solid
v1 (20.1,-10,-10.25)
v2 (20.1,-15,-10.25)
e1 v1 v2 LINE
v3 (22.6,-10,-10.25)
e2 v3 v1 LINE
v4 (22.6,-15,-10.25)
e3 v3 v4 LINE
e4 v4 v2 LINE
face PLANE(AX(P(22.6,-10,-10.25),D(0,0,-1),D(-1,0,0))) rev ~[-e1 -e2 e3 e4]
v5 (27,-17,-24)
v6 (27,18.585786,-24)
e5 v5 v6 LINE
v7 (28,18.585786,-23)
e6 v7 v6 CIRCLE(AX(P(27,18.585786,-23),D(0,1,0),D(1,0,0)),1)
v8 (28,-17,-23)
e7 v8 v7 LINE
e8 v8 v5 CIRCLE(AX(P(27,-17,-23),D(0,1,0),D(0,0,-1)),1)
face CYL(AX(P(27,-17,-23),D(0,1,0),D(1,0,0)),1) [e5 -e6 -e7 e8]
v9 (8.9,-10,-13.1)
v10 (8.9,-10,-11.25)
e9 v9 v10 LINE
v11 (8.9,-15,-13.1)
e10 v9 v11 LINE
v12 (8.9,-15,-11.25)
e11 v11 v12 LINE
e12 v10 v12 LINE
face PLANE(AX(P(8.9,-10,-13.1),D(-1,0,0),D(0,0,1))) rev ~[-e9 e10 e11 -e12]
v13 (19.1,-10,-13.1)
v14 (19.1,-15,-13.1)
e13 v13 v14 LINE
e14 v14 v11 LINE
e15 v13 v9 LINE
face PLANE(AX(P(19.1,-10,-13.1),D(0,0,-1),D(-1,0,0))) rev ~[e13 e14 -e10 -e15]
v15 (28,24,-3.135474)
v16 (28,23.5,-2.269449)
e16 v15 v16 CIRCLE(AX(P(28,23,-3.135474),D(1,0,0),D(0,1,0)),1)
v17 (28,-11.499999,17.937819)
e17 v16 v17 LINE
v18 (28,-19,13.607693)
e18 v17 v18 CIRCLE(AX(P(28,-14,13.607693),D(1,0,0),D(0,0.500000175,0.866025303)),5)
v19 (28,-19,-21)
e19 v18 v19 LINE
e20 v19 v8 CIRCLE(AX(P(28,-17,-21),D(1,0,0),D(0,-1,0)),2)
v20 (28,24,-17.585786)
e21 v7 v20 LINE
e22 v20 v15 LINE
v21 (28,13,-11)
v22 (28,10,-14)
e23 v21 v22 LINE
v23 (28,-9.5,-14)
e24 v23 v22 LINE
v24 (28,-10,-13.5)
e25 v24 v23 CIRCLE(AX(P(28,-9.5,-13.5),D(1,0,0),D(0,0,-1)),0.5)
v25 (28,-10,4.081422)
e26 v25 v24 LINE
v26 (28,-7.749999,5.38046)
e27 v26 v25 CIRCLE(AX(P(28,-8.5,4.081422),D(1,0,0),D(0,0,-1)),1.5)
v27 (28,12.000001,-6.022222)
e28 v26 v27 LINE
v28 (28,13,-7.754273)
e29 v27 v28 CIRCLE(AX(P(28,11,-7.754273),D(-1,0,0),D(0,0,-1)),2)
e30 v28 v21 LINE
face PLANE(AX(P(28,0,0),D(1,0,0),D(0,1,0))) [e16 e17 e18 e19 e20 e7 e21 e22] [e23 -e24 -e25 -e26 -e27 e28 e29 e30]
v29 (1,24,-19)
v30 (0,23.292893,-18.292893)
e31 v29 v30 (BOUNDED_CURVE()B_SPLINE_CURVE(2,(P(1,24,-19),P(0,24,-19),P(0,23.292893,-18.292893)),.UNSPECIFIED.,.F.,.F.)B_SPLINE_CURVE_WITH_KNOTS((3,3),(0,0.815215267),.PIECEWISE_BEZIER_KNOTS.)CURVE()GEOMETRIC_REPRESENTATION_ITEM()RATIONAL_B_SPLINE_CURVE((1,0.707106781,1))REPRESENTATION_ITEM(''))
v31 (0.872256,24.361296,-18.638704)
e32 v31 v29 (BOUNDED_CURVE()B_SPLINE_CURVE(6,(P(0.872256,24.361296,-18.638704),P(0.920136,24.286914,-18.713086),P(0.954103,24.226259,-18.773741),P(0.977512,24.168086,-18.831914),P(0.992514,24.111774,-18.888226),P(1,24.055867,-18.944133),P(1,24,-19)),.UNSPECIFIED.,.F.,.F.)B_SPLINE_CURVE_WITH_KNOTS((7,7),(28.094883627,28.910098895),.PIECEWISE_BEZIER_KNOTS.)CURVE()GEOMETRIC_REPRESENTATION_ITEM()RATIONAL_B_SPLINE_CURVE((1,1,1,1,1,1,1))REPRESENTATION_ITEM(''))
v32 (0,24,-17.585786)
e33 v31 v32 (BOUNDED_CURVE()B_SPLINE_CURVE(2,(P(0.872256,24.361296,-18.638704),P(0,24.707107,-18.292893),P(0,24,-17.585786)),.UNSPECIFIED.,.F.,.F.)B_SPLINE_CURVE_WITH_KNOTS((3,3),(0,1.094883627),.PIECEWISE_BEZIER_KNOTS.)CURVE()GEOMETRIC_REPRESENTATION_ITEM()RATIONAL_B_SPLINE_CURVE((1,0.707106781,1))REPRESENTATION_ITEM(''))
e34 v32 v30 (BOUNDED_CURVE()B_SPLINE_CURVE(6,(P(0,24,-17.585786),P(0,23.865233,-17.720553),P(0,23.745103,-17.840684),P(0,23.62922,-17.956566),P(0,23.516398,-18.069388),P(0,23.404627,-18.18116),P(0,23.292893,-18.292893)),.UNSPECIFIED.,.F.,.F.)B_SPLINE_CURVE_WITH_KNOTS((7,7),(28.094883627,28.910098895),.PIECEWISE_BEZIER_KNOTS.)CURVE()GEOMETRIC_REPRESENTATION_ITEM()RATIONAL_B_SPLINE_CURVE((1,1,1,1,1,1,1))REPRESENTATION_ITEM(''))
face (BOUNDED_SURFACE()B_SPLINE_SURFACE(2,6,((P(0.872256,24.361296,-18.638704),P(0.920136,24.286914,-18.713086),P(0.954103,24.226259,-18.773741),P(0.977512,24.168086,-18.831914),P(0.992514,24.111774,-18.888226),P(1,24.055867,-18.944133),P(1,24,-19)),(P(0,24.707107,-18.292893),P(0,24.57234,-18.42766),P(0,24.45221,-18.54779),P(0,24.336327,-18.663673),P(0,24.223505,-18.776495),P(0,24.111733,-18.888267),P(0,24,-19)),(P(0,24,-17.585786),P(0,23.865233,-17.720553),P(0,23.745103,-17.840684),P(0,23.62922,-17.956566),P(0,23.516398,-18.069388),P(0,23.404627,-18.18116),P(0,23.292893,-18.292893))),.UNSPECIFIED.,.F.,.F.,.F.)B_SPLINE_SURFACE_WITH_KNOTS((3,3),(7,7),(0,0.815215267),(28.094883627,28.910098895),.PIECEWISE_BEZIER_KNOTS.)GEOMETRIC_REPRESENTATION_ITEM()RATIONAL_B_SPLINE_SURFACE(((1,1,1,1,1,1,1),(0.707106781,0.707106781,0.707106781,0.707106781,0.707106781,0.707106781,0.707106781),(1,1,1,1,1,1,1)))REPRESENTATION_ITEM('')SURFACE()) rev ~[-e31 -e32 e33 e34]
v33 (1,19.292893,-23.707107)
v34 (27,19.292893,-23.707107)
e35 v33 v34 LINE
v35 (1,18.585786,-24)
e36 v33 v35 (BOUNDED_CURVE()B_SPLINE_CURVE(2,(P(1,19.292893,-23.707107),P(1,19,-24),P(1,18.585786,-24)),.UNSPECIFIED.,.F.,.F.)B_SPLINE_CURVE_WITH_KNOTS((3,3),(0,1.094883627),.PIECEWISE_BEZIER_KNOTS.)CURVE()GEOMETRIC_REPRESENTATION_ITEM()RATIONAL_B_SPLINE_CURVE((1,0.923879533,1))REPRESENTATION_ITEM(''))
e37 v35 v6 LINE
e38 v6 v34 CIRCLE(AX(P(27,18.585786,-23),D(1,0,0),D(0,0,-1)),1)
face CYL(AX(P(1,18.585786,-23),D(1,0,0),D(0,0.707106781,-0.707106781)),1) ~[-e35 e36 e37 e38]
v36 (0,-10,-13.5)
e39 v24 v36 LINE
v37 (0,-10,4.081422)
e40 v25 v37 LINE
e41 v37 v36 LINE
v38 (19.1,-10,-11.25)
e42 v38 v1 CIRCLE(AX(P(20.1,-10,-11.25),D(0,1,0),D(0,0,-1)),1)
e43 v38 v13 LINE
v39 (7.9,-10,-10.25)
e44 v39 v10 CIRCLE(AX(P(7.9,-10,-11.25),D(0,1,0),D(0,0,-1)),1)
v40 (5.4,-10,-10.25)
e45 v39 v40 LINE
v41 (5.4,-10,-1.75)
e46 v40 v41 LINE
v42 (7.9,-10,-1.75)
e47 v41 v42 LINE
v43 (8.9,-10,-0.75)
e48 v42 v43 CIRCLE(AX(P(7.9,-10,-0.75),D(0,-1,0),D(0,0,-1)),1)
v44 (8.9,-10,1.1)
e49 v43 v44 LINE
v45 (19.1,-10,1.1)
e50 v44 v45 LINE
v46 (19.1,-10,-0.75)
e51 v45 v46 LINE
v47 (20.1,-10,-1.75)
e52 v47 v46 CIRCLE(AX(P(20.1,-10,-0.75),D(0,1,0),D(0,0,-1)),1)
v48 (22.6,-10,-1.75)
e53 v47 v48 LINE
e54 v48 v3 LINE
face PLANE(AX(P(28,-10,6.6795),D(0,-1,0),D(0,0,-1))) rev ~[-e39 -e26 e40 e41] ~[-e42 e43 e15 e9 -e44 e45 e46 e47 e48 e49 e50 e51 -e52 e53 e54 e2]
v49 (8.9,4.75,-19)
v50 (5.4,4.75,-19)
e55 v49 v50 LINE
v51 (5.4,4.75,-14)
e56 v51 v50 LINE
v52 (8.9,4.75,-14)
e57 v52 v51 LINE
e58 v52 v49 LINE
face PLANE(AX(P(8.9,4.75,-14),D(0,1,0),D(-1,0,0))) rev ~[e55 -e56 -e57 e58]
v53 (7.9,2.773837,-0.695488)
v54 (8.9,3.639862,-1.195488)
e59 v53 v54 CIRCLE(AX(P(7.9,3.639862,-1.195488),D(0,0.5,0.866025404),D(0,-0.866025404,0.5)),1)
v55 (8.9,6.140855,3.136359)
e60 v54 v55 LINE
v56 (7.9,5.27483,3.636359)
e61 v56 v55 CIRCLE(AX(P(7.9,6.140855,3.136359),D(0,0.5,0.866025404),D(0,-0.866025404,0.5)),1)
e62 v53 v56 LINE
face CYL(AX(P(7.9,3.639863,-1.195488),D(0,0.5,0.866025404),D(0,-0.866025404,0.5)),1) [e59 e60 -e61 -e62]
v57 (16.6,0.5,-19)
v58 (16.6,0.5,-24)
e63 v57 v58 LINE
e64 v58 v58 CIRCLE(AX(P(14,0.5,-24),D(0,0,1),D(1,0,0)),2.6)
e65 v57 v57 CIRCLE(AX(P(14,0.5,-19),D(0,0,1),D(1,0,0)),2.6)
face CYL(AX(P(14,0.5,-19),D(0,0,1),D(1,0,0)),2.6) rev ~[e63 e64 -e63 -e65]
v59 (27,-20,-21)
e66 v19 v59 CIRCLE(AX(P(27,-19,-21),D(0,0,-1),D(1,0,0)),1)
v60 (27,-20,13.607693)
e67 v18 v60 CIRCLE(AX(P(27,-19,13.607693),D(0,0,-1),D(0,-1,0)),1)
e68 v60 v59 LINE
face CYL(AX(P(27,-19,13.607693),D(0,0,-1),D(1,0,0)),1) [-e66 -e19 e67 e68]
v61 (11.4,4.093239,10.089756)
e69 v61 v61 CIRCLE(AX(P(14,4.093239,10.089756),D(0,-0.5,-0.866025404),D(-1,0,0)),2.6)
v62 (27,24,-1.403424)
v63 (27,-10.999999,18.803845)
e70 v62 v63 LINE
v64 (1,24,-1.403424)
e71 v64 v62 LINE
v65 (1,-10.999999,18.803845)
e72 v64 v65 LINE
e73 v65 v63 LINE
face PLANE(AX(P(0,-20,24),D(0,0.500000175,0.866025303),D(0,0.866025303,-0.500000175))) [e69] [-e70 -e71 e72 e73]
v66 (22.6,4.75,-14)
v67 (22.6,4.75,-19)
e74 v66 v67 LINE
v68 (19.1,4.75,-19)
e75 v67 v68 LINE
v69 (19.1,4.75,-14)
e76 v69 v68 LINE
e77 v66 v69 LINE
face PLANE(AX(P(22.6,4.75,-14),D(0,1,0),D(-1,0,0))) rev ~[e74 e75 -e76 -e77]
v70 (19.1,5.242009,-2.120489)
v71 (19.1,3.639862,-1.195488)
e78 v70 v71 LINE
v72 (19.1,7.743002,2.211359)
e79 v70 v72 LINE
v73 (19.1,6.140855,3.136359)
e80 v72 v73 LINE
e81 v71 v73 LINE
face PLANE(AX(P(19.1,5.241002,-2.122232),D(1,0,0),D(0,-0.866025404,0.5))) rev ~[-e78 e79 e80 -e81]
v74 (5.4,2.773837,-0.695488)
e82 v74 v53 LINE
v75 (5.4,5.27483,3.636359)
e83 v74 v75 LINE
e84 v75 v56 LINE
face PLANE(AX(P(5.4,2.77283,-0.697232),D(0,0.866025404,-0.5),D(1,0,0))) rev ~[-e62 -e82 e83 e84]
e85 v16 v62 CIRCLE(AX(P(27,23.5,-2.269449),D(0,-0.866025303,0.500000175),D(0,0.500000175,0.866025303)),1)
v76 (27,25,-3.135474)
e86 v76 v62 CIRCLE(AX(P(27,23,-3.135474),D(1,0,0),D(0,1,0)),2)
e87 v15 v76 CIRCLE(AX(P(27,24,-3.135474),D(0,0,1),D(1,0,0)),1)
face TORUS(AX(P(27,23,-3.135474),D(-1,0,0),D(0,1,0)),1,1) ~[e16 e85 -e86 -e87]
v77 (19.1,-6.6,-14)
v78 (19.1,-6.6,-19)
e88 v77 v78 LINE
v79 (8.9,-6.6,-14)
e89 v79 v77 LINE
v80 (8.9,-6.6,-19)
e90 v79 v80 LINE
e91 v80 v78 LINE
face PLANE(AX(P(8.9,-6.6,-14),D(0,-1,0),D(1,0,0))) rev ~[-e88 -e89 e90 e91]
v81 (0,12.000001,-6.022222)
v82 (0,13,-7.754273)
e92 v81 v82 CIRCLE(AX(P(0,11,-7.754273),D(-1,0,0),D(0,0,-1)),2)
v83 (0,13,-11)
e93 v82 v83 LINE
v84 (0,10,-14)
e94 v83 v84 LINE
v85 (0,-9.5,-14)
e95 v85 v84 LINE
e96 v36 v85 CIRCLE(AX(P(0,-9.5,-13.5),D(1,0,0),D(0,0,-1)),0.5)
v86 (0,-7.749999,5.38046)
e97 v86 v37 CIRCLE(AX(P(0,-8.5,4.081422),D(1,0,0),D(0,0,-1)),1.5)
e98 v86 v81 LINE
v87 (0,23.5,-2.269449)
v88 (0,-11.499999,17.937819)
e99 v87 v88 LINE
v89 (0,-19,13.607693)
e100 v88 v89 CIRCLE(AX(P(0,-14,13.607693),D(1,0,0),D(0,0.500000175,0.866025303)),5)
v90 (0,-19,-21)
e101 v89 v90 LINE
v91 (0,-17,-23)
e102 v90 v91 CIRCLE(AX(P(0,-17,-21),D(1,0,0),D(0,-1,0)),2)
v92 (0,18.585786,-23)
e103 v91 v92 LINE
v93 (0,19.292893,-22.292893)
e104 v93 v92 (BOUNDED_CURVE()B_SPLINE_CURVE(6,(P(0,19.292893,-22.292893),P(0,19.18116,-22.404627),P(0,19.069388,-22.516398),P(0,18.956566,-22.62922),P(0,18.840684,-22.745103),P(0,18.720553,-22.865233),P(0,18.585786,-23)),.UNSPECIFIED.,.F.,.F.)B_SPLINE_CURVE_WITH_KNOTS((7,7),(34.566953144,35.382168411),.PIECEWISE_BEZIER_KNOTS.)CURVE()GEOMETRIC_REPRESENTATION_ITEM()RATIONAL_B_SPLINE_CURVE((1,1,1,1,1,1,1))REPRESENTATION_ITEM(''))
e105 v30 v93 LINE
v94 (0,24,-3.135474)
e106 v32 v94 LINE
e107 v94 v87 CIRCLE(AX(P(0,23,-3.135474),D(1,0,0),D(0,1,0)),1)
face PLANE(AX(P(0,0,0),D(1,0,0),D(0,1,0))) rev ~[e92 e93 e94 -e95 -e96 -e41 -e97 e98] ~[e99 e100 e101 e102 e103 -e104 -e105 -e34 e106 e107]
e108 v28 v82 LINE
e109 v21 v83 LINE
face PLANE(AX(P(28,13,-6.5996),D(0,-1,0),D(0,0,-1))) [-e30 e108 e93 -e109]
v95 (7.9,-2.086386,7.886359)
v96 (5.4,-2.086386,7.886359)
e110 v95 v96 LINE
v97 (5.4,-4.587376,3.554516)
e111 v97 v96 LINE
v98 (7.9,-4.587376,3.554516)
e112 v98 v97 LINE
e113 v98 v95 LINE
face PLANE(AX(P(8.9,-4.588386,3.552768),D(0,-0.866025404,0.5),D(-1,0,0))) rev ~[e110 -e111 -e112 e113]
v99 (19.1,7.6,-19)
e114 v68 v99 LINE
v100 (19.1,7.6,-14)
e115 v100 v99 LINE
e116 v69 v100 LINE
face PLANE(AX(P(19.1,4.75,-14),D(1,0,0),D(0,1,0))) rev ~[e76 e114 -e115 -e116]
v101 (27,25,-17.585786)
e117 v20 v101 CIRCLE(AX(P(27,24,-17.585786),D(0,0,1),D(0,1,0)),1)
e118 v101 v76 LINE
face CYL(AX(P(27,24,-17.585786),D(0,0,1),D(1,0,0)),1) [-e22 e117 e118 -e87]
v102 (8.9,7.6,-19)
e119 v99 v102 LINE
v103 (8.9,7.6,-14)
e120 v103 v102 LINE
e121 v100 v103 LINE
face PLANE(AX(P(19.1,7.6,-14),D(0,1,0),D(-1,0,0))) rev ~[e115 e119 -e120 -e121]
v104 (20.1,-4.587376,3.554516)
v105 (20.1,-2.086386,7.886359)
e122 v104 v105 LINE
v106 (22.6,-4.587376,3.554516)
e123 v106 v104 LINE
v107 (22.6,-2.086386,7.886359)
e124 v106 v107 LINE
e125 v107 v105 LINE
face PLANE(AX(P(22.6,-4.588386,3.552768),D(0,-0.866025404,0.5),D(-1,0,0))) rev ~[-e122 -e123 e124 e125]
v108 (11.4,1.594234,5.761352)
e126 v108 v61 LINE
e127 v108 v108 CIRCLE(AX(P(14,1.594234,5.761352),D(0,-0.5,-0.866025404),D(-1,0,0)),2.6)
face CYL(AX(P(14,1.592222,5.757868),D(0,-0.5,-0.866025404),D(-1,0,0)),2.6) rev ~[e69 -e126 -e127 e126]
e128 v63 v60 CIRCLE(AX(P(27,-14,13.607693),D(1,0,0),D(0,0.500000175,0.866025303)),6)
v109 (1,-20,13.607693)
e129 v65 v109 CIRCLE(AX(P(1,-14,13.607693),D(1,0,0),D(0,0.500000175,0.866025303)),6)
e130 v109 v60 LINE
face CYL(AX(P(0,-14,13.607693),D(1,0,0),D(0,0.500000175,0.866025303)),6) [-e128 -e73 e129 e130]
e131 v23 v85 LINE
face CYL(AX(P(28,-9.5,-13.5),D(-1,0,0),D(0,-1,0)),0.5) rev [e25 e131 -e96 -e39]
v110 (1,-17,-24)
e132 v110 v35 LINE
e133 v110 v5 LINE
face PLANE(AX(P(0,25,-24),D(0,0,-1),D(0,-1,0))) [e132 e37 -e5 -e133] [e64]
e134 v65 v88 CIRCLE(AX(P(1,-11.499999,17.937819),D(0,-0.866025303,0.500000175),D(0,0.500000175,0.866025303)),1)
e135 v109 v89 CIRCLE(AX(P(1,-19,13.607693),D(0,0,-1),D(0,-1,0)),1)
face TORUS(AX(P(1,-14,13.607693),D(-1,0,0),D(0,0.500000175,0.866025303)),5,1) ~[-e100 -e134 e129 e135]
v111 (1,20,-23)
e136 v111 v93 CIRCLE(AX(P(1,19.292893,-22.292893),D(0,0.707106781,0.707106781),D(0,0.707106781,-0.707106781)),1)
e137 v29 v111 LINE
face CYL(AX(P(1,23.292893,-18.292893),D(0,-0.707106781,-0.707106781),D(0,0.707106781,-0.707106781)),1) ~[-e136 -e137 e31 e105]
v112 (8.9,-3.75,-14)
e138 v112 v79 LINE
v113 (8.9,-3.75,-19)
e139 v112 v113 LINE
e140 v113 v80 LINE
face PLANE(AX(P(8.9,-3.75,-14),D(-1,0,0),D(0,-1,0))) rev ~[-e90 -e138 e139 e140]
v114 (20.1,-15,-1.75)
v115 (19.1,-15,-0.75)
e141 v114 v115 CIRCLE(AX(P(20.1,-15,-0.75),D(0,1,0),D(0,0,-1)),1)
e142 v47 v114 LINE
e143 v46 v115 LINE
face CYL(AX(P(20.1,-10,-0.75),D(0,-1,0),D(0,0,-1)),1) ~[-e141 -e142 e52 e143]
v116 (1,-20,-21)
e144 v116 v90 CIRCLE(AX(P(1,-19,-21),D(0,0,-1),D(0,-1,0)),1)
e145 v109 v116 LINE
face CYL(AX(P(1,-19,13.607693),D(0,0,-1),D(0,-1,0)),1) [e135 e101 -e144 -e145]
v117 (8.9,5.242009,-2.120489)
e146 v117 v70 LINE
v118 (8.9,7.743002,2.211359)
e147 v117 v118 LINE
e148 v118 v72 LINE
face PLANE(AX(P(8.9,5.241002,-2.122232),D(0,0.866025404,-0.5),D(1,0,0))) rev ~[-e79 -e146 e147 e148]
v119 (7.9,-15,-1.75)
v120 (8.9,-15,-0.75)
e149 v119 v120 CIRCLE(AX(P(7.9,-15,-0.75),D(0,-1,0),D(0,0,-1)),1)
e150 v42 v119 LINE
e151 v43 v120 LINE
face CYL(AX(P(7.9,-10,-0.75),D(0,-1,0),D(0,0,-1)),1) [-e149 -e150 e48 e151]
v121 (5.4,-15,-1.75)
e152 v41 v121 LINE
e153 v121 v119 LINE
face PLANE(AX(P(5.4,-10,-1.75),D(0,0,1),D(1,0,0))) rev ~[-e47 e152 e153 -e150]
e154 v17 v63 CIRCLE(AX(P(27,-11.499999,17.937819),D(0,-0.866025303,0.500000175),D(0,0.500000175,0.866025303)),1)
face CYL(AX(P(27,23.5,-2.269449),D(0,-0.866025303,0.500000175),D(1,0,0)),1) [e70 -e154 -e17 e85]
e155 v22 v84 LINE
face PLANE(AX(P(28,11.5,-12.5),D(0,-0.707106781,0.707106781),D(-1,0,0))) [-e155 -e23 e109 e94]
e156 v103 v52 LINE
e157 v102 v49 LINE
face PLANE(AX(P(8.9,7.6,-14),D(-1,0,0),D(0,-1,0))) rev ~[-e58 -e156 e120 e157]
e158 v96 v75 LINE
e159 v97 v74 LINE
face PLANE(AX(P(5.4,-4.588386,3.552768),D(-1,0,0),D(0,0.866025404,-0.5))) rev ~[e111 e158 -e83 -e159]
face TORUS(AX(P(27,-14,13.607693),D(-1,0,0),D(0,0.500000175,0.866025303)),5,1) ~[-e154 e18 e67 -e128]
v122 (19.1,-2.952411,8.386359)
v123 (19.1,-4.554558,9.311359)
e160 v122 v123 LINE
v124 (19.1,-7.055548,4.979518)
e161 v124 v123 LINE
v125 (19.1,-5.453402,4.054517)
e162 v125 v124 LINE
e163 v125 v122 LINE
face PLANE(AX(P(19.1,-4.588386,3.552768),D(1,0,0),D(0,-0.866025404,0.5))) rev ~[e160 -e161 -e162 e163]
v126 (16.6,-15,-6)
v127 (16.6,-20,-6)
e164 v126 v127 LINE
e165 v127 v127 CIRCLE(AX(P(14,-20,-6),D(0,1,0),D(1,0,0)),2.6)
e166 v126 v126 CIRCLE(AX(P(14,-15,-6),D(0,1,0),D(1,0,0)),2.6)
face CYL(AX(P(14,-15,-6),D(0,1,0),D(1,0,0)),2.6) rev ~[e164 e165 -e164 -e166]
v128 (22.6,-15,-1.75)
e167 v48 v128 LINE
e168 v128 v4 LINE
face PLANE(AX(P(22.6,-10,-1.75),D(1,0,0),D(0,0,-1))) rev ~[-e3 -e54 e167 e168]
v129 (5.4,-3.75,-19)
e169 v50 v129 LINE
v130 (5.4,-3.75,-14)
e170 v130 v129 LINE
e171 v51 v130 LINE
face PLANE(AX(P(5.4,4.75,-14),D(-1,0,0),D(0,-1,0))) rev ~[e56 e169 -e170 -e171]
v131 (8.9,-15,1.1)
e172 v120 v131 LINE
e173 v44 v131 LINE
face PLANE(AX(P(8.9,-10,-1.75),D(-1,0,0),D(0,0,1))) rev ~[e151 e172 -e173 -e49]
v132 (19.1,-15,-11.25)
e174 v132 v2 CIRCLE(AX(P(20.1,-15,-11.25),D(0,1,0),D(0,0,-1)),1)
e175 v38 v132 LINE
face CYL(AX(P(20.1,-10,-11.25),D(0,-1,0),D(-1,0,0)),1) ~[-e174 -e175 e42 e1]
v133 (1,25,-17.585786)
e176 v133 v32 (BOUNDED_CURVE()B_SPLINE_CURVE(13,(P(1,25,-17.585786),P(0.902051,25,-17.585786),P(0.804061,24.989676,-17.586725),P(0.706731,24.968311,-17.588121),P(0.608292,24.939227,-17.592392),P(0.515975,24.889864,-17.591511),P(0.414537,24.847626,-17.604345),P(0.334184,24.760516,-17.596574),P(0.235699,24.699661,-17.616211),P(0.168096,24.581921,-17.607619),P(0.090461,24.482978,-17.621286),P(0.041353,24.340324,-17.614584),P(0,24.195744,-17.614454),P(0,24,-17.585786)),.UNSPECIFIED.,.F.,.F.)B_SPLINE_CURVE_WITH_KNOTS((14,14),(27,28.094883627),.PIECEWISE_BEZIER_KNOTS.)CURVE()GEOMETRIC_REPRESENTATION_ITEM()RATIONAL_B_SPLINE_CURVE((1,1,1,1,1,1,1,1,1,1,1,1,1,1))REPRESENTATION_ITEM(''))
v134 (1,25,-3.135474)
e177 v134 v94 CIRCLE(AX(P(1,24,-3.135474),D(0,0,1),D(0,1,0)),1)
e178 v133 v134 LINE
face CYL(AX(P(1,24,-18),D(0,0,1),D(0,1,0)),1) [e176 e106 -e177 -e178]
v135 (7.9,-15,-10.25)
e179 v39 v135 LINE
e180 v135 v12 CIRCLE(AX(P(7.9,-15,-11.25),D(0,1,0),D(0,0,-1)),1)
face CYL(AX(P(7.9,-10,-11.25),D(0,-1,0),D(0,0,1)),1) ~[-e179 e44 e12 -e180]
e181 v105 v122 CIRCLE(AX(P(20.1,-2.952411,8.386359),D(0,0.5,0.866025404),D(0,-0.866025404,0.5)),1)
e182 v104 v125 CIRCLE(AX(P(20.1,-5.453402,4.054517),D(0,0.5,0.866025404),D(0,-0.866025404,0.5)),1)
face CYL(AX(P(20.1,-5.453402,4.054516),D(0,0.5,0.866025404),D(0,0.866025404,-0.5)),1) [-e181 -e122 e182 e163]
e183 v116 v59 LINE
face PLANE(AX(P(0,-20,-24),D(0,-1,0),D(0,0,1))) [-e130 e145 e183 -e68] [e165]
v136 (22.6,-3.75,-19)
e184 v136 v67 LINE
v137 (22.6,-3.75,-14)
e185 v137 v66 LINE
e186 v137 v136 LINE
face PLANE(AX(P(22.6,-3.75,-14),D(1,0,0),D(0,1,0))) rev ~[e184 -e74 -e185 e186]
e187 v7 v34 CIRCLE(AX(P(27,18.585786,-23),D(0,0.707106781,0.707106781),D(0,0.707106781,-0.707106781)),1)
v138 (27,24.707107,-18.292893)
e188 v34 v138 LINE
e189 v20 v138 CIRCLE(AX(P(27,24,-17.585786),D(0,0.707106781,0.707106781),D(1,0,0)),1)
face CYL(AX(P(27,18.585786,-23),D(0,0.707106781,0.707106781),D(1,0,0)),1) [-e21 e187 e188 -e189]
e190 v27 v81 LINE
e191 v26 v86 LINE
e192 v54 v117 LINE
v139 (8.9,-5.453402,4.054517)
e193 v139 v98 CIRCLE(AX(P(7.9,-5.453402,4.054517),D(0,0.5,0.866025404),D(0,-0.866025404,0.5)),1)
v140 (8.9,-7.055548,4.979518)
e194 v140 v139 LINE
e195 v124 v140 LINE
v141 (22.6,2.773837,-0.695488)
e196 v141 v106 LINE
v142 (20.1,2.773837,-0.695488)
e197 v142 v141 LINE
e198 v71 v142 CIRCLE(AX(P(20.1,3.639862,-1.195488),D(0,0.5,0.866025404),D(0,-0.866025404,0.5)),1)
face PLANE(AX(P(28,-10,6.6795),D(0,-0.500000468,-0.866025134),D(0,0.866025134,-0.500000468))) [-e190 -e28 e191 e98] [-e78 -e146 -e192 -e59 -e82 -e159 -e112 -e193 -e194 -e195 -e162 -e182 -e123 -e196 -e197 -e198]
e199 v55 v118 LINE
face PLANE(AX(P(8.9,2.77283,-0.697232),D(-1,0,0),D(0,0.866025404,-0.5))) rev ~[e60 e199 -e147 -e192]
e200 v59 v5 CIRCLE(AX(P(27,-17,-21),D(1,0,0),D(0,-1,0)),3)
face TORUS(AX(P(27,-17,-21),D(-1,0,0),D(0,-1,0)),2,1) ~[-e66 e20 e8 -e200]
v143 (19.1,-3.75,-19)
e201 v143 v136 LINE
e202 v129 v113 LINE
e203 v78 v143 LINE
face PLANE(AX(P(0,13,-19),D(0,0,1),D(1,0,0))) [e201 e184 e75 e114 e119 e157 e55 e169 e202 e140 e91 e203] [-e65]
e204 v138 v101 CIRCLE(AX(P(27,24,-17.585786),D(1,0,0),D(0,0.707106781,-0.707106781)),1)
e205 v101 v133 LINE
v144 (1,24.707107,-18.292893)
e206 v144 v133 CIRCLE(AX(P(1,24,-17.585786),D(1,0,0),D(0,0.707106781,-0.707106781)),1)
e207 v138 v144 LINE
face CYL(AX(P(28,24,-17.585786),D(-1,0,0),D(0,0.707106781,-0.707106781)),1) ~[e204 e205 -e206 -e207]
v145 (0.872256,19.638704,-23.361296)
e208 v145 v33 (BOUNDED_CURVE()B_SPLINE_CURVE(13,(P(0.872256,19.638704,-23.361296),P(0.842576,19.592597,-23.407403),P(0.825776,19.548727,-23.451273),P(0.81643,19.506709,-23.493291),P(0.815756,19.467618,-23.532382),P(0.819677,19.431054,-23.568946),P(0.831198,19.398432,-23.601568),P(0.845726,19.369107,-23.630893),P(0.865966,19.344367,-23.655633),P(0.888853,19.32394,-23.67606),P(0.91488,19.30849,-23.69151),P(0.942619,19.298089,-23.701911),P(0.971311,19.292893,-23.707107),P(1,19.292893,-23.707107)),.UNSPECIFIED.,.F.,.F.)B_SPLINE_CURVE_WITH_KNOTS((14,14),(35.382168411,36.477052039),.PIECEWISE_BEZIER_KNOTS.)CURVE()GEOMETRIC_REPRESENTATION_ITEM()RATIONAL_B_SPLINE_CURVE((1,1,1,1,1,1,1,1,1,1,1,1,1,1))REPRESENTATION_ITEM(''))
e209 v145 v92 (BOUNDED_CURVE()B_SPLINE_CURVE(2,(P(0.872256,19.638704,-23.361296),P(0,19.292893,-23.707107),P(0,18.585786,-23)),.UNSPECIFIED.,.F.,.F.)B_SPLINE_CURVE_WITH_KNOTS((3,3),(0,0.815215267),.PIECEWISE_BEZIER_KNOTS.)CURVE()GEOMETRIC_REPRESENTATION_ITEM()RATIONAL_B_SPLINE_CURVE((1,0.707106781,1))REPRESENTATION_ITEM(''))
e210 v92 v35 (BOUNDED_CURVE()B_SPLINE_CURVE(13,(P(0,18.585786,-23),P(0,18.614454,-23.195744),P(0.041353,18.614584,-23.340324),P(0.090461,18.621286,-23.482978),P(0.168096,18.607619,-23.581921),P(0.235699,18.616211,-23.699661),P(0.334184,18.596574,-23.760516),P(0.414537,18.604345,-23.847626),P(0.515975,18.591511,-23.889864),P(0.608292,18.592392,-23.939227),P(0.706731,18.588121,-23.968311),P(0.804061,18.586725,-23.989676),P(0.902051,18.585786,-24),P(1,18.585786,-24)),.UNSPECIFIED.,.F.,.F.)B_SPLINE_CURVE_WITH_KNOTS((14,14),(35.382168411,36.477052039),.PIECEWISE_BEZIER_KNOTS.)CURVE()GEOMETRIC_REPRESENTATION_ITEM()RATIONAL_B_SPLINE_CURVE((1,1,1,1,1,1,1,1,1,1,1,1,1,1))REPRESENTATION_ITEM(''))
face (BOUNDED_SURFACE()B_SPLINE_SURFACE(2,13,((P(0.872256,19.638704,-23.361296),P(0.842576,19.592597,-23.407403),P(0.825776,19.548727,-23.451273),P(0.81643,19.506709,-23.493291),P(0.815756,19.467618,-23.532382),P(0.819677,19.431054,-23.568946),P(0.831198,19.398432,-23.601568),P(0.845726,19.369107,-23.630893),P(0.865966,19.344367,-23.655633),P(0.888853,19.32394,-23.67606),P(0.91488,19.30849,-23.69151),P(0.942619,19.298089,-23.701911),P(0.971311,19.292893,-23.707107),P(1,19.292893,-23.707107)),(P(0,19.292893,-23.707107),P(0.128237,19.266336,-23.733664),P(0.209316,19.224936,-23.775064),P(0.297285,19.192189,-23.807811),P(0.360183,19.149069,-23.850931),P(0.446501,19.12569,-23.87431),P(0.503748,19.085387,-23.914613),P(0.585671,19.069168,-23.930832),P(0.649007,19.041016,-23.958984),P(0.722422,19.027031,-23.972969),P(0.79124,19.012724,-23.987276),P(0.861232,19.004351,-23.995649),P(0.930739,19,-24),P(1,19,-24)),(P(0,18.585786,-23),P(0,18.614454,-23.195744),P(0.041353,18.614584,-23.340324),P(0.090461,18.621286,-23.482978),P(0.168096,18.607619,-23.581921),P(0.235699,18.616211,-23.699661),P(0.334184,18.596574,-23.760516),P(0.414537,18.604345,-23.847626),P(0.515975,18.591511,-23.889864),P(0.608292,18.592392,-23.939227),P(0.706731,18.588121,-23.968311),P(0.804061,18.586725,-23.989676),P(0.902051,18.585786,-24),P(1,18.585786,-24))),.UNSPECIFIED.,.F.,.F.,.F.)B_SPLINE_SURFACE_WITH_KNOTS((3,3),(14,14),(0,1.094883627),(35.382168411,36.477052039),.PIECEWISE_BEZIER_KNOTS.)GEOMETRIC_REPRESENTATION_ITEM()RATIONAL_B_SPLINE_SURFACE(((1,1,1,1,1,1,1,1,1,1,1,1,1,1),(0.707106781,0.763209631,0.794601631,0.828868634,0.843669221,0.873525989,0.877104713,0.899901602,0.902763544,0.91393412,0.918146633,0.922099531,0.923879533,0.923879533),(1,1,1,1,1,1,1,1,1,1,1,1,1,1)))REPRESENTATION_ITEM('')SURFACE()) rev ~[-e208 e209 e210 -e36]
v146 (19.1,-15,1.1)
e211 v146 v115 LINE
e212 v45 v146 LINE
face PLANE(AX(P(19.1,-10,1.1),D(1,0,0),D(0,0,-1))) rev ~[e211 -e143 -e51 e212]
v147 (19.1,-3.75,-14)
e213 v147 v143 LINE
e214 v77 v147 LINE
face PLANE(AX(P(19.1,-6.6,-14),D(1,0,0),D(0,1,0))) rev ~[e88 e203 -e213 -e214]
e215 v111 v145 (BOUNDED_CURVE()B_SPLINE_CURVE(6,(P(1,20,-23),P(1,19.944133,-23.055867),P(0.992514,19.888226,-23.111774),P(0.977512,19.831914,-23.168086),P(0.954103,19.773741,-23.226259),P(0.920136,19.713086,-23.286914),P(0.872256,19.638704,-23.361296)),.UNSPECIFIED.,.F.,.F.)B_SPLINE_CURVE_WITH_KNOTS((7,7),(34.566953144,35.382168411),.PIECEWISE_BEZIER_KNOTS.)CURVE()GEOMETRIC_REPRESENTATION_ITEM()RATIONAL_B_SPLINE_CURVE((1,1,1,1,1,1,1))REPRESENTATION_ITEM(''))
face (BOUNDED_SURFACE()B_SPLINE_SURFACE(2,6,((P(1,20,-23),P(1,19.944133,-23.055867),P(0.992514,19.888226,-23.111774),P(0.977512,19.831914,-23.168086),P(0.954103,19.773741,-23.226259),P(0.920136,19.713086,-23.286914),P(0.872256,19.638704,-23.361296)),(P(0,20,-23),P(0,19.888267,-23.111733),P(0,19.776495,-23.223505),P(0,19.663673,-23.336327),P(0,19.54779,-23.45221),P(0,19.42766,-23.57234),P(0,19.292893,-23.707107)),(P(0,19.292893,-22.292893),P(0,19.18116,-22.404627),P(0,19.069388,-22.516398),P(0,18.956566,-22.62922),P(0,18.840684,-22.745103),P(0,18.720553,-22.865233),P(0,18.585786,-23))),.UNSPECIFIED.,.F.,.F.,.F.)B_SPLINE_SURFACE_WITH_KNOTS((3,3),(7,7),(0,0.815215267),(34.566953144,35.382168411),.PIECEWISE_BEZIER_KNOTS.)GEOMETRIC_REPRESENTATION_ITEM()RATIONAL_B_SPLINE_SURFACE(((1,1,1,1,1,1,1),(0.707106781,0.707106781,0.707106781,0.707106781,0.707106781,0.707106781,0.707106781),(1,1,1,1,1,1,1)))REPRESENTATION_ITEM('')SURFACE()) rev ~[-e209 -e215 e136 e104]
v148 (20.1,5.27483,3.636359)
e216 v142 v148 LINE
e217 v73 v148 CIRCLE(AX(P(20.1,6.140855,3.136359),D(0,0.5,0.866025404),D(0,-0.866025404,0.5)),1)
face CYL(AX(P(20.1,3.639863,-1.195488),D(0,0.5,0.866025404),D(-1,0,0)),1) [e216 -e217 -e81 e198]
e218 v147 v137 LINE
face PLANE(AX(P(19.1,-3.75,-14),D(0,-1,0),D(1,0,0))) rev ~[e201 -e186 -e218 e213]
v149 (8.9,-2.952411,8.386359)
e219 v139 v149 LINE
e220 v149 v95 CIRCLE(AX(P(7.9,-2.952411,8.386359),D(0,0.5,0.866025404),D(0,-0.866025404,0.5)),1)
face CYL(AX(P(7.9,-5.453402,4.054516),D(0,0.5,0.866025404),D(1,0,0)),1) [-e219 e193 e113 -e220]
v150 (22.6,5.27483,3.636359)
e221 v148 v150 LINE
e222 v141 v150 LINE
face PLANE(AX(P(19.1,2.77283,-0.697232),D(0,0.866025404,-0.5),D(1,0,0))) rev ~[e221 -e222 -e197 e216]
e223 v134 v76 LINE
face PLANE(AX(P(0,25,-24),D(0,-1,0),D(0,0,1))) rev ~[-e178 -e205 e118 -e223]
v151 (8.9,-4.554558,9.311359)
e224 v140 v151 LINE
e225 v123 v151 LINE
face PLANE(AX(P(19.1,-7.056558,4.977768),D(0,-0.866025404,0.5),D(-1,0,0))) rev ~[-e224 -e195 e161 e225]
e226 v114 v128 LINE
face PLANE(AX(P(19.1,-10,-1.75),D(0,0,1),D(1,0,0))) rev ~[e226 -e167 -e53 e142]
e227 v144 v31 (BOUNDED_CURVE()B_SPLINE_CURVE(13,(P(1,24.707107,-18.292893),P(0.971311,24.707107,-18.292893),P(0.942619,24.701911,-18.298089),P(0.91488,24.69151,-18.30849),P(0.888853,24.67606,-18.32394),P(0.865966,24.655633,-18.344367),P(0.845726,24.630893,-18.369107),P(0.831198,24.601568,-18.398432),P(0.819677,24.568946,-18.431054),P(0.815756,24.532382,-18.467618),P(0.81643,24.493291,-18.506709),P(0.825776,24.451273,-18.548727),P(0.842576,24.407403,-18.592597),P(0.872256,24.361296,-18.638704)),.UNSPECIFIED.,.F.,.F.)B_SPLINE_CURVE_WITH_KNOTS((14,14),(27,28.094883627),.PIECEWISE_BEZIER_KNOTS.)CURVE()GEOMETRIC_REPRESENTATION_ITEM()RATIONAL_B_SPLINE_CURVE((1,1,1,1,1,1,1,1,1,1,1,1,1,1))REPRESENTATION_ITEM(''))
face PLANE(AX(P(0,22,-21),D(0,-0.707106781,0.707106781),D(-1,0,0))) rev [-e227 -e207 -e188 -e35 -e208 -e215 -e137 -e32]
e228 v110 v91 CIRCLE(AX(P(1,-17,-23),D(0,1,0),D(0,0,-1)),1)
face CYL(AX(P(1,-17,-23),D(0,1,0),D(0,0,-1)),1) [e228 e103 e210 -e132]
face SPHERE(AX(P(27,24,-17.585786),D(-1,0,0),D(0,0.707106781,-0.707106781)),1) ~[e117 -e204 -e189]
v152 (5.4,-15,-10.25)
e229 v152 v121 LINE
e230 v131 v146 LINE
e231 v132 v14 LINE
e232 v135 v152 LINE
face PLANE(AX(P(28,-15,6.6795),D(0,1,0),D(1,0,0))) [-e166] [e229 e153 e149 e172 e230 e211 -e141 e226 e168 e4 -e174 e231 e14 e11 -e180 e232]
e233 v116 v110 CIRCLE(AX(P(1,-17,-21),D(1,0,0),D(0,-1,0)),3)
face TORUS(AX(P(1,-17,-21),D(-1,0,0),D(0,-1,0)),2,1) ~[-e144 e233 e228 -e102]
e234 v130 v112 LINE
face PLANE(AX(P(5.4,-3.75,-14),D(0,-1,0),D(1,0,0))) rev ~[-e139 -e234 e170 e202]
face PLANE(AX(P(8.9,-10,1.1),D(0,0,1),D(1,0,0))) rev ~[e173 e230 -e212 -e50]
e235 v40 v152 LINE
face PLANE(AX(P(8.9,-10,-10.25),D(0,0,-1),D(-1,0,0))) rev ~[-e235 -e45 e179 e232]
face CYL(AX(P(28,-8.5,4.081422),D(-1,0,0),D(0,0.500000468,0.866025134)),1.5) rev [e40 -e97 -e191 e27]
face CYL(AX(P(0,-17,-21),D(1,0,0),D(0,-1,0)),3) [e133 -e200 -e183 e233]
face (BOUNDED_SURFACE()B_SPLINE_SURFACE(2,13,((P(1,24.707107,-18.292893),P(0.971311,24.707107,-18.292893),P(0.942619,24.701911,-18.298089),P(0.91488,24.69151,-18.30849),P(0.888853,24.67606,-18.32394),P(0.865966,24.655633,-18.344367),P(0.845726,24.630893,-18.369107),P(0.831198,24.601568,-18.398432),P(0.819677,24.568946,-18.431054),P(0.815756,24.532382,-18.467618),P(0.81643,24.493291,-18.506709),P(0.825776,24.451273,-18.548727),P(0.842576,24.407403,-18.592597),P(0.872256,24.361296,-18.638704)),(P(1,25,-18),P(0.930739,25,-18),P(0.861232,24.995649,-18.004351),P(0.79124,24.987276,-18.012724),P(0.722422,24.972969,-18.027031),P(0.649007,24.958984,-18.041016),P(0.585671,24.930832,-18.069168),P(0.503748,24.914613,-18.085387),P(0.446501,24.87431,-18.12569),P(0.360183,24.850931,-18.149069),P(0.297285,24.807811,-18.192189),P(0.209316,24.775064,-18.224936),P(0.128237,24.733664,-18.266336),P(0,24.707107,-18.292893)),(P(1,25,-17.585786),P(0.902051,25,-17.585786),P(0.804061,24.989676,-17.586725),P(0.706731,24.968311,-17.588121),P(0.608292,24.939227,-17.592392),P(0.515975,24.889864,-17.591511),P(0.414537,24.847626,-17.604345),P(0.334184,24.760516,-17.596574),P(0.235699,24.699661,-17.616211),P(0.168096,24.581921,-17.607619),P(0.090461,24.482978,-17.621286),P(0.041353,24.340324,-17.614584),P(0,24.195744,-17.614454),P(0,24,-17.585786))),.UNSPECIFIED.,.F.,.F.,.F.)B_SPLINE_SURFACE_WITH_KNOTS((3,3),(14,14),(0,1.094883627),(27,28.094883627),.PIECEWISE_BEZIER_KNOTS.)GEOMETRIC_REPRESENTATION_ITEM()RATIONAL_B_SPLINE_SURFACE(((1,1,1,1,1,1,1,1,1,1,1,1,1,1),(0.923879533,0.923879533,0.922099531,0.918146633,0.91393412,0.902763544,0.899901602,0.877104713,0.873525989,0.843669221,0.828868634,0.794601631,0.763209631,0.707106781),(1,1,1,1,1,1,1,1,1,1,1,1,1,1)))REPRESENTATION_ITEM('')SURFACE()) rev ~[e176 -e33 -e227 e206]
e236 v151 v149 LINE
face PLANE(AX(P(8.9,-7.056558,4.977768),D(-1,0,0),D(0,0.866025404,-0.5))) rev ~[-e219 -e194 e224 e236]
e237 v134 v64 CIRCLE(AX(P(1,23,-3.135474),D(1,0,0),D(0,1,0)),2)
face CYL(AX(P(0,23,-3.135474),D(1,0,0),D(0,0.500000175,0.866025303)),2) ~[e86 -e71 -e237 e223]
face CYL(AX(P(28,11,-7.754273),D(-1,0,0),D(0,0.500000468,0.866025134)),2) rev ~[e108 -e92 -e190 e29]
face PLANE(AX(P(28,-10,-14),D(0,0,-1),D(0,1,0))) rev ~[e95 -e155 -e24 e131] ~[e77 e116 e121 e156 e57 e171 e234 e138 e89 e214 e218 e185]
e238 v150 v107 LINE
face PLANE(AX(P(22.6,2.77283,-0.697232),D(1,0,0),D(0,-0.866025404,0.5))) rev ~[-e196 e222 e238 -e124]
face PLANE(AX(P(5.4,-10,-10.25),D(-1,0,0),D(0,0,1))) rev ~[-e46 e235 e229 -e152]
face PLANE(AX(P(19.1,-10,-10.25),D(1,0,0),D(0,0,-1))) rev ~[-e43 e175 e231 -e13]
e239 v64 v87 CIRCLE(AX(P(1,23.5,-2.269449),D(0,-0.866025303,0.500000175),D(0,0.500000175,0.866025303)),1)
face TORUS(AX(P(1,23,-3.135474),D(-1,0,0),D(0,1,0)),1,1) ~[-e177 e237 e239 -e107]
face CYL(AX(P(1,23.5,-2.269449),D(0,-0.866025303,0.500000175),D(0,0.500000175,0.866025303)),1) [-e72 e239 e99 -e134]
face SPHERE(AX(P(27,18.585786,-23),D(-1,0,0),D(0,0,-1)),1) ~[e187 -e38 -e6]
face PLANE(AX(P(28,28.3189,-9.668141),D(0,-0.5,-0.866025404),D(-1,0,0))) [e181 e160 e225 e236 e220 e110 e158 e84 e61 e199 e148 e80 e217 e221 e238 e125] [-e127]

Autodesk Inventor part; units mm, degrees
ref_plane "YZ Plane" through (0, 0, 0) normal (1, 0, 0) x (0, 1, 0)
ref_plane "XZ Plane" through (0, 0, 0) normal (0, 1, 0) x (-1, 0, 0)
ref_plane "XY Plane" through (0, 0, 0) normal (0, 0, 1) x (1, 0, 0)
sketch "スケッチ1" plane through (0, 0, 0) normal (1, 0, 0) x (0, 1, 0)
  line L0 (-20, 24) -> (63.1384, 24)
  line L1 (63.1384, 24) -> (63.1384, -24)
  line L2 (25, -24) -> (-20, -24)
  line L3 (-20, -24) -> (-20, 24)
  line L4 (-20, 24) -> (63.1384, -24)
  line L5 (-20, -24) -> (25, -24)
  line L6 (25, -24) -> (25, -1.9808)
  line L7 (25, 24) -> (-20, 24)
  line L8 (-20, 24) -> (-20, -24)
  point P0 (0, 0)
  dimension "d6" = 24
  dimension "d7" = 48
  dimension "d96" = 45
  dimension "d98" = 83.1384
extrude "押し出し1" add sketch "スケッチ1" along normal blind 28 contours L4 L6 L2 L3
sketch "スケッチ2" plane through (28, 0, 0) normal (1, 0, 0) x (0, 0, -1)
  line L0 (-6.6795, -10) -> (14, -10)
  line L1 (14, -10) -> (14, 25.8179)
  line L2 (14, 25.8179) -> (-6.6795, 25.8179)
  line L3 (-6.6795, 25.8179) -> (-6.6795, 13)
  line L4 (-24, -20) -> (24, -20) projected
  line L5 (24, -20) -> (24, 25) projected
  line L6 (-6.6795, -10) -> (14, 25.8179)
  line L7 (14, -10) -> (-6.679, -10)
  line L8 (-6.679, -10) -> (-6.679, 13)
  line L9 (6.5996, 13) -> (14, 13)
  line L10 (14, 13) -> (14, -10)
  point P0 (0, 0)
  point P1 (24, 63.1384)
  dimension "d10" = 20.6795
  dimension "d11" = 35.8179
  dimension "d12" = 10
  dimension "d13" = 10
  dimension "d19" = 20.679
  dimension "d75" = 23
extrude "押し出し2" cut sketch "スケッチ2" against normal blind 40 contours L6 L9 L1 L0
sketch "スケッチ3" plane through (28, -10, 6.6795) normal (0, 1, 0) x (1, 0, 0)
  line L0 (0, 20.6795) -> (0, 0) projected
  line L1 (0, 20.6795) -> (-28, 20.6795) projected
  line L2 (-19.1, 5.5795) -> (-8.9, 5.5795)
  line L3 (-8.9, 5.5795) -> (-8.9, 19.7795)
  line L4 (-8.9, 19.7795) -> (-19.1, 19.7795)
  line L5 (-19.1, 19.7795) -> (-19.1, 5.5795)
  line L6 (-22.6, 8.4295) -> (-5.4, 8.4295)
  line L7 (-5.4, 8.4295) -> (-5.4, 16.9295)
  line L8 (-5.4, 16.9295) -> (-22.6, 16.9295)
  line L9 (-22.6, 16.9295) -> (-22.6, 8.4295)
  point P0 (-28, 6.6795)
  point P1 (-14, 12.6795)
  dimension "d16" = 14
  dimension "d17" = 8
  dimension "d21" = 10.2
  dimension "d22" = 14.2
  dimension "d23" = 7.1
  dimension "d24" = 5.1
  dimension "d25" = 17.2
  dimension "d26" = 8.5
  dimension "d27" = 4.25
  dimension "d28" = 8.6
extrude "押し出し3" cut sketch "スケッチ3" against normal blind 5
sketch "スケッチ4" plane through (28, -15, 6.6795) normal (0, 1, 0) x (1, 0, 0)
  line L0 (0, 20.6795) -> (-28, 20.6795) projected
  line L1 (0, 20.6795) -> (0, 0) projected
  circle A0 centre (-14, 12.6795) radius 2.6
  point P0 (-28, 6.6795)
  dimension "d31" = 8
  dimension "d32" = 14
  dimension "d33" = 5.2
extrude "押し出し4" cut sketch "スケッチ4" against normal blind 5
fillet "フィレット1" radius 1 4 edges at (8.9, -12.5, -10.25) (8.9, -12.5, -1.75) (19.1, -12.5, -10.25) (19.1, -12.5, -1.75)
sketch "スケッチ8" plane through (28, 25.8179, -14) normal (0, -0.5, -0.866) x (-1, 0, 0)
  line L0 (0, -41.359) -> (28, -41.359) projected
  line L1 (5.4, -35.109) -> (22.6, -35.109)
  line L2 (22.6, -35.109) -> (22.6, -26.609)
  line L3 (22.6, -26.609) -> (5.4, -26.609)
  line L4 (5.4, -26.609) -> (5.4, -35.109)
  line L5 (28, -14.8009) -> (28, -41.359) projected
  line L6 (8.9, -37.959) -> (19.1, -37.959)
  line L7 (19.1, -37.959) -> (19.1, -23.759)
  line L8 (19.1, -23.759) -> (8.9, -23.759)
  line L9 (8.9, -23.759) -> (8.9, -37.959)
  point P0 (28, -29.359)
  point P1 (14, -30.859)
  dimension "d54" = 10.5
  dimension "d55" = 17.2
  dimension "d56" = 8.5
  dimension "d57" = 14
  dimension "d58" = 8.6
  dimension "d59" = 4.25
  dimension "d60" = 10.2
  dimension "d61" = 14.2
  dimension "d62" = 7.1
  dimension "d63" = 5.1
extrude "押し出し7" cut sketch "スケッチ8" against normal blind 5
sketch "スケッチ9" plane through (28, 28.3179, -9.6699) normal (0, -0.5, -0.866) x (-1, 0, 0)
  line L0 (0, -41.359) -> (28, -41.359) projected
  line L1 (28, -14.8009) -> (28, -41.359) projected
  circle A0 centre (14, -30.859) radius 2.6
  point P0 (28, -29.359)
  point P1 (28, 0)
  dimension "d66" = 10.5
  dimension "d67" = 14
  dimension "d68" = 5.2
extrude "押し出し8" cut sketch "スケッチ9" against normal blind 5
fillet "フィレット2" radius 1 4 edges at (19.1, -3.3368, 5.7204) (19.1, 4.0244, 1.4704) (8.9, -3.3368, 5.7204) (8.9, 4.0244, 1.4704)
fillet "フィレット4" radius 1.5 1 edges at (14, -10, 6.6795)
sketch "スケッチ10" plane through (0, 13, -14) normal (0, 0, 1) x (1, 0, 0)
  line L0 (0, -23) -> (0, 0) projected
  line L1 (28, -23) -> (0, -23) projected
  line L2 (22.6, -8.25) -> (5.4, -8.25)
  line L3 (5.4, -8.25) -> (5.4, -16.75)
  line L4 (5.4, -16.75) -> (22.6, -16.75)
  line L5 (22.6, -16.75) -> (22.6, -8.25)
  line L6 (19.1, -5.4) -> (8.9, -5.4)
  line L7 (8.9, -5.4) -> (8.9, -19.6)
  line L8 (8.9, -19.6) -> (19.1, -19.6)
  line L9 (19.1, -19.6) -> (19.1, -5.4)
  point P0 (0, -13)
  point P1 (14, -12.5)
  point P2 (0, -22.5)
  dimension "d76" = 14
  dimension "d77" = 10.5
  dimension "d78" = 17.2
  dimension "d79" = 8.5
  dimension "d80" = 8.6
  dimension "d81" = 4.25
  dimension "d82" = 10.2
  dimension "d83" = 14.2
  dimension "d84" = 7.1
  dimension "d85" = 5.1
extrude "押し出し9" cut sketch "スケッチ10" against normal blind 5
sketch "スケッチ11" plane through (0, 13, -19) normal (0, 0, 1) x (1, 0, 0)
  line L0 (28, -23) -> (0, -23) projected
  line L1 (0, -23) -> (0, 0) projected
  circle A0 centre (14, -12.5) radius 2.6
  point P0 (0, -13)
  dimension "d88" = 10.5
  dimension "d89" = 14
  dimension "d90" = 5.2
extrude "押し出し10" cut sketch "スケッチ11" against normal blind 5
fillet "フィレット6" radius 0.5 1 edges at (14, -10, -14)
fillet "フィレット8" radius 2 1 edges at (14, 13, -6.5996)
chamfer "面取り1" distance 6 angle 45 1 edges at (14, 25, -24)
fillet "フィレット9" radius 6 1 edges at (14, -20, 24)
fillet "フィレット10" radius 3 1 edges at (14, -20, -24)
fillet "フィレット11" radius 2 1 edges at (14, 25, -1.9808)
chamfer "面取り3" distance 3 angle 45 1 edges at (14, 13, -14)
fillet "フィレット12" radius 1 7 edges at (0, -17, 18.8038) (0, -20, -3.6962) (0, -19.1213, -23.1213) (0, 1, -24) (0, 24.7321, -2.1355) (0, 25, -10.5677) (0, 6.5, 8.7002)
fillet "フィレット13" radius 1 5 edges at (0.2929, 24.7071, -18.2929) (14.5, 25, -18) (0.2929, 19.2929, -23.7071) (14.5, 19, -24) (0, 22, -21)
fillet "フィレット14" radius 1 10 edges at (28, -17, 18.8038) (28, -20, -3.6962) (28, -19.1213, -23.1213) (28, 0.7929, -24) (28, 18.9685, -23.9239) (28, 22, -21) (28, 24.9239, -17.9685) (28, 25, -10.3606) (28, 24.7321, -2.1355) (28, 6.5, 8.7002)
properties part number "triangle_jig"
